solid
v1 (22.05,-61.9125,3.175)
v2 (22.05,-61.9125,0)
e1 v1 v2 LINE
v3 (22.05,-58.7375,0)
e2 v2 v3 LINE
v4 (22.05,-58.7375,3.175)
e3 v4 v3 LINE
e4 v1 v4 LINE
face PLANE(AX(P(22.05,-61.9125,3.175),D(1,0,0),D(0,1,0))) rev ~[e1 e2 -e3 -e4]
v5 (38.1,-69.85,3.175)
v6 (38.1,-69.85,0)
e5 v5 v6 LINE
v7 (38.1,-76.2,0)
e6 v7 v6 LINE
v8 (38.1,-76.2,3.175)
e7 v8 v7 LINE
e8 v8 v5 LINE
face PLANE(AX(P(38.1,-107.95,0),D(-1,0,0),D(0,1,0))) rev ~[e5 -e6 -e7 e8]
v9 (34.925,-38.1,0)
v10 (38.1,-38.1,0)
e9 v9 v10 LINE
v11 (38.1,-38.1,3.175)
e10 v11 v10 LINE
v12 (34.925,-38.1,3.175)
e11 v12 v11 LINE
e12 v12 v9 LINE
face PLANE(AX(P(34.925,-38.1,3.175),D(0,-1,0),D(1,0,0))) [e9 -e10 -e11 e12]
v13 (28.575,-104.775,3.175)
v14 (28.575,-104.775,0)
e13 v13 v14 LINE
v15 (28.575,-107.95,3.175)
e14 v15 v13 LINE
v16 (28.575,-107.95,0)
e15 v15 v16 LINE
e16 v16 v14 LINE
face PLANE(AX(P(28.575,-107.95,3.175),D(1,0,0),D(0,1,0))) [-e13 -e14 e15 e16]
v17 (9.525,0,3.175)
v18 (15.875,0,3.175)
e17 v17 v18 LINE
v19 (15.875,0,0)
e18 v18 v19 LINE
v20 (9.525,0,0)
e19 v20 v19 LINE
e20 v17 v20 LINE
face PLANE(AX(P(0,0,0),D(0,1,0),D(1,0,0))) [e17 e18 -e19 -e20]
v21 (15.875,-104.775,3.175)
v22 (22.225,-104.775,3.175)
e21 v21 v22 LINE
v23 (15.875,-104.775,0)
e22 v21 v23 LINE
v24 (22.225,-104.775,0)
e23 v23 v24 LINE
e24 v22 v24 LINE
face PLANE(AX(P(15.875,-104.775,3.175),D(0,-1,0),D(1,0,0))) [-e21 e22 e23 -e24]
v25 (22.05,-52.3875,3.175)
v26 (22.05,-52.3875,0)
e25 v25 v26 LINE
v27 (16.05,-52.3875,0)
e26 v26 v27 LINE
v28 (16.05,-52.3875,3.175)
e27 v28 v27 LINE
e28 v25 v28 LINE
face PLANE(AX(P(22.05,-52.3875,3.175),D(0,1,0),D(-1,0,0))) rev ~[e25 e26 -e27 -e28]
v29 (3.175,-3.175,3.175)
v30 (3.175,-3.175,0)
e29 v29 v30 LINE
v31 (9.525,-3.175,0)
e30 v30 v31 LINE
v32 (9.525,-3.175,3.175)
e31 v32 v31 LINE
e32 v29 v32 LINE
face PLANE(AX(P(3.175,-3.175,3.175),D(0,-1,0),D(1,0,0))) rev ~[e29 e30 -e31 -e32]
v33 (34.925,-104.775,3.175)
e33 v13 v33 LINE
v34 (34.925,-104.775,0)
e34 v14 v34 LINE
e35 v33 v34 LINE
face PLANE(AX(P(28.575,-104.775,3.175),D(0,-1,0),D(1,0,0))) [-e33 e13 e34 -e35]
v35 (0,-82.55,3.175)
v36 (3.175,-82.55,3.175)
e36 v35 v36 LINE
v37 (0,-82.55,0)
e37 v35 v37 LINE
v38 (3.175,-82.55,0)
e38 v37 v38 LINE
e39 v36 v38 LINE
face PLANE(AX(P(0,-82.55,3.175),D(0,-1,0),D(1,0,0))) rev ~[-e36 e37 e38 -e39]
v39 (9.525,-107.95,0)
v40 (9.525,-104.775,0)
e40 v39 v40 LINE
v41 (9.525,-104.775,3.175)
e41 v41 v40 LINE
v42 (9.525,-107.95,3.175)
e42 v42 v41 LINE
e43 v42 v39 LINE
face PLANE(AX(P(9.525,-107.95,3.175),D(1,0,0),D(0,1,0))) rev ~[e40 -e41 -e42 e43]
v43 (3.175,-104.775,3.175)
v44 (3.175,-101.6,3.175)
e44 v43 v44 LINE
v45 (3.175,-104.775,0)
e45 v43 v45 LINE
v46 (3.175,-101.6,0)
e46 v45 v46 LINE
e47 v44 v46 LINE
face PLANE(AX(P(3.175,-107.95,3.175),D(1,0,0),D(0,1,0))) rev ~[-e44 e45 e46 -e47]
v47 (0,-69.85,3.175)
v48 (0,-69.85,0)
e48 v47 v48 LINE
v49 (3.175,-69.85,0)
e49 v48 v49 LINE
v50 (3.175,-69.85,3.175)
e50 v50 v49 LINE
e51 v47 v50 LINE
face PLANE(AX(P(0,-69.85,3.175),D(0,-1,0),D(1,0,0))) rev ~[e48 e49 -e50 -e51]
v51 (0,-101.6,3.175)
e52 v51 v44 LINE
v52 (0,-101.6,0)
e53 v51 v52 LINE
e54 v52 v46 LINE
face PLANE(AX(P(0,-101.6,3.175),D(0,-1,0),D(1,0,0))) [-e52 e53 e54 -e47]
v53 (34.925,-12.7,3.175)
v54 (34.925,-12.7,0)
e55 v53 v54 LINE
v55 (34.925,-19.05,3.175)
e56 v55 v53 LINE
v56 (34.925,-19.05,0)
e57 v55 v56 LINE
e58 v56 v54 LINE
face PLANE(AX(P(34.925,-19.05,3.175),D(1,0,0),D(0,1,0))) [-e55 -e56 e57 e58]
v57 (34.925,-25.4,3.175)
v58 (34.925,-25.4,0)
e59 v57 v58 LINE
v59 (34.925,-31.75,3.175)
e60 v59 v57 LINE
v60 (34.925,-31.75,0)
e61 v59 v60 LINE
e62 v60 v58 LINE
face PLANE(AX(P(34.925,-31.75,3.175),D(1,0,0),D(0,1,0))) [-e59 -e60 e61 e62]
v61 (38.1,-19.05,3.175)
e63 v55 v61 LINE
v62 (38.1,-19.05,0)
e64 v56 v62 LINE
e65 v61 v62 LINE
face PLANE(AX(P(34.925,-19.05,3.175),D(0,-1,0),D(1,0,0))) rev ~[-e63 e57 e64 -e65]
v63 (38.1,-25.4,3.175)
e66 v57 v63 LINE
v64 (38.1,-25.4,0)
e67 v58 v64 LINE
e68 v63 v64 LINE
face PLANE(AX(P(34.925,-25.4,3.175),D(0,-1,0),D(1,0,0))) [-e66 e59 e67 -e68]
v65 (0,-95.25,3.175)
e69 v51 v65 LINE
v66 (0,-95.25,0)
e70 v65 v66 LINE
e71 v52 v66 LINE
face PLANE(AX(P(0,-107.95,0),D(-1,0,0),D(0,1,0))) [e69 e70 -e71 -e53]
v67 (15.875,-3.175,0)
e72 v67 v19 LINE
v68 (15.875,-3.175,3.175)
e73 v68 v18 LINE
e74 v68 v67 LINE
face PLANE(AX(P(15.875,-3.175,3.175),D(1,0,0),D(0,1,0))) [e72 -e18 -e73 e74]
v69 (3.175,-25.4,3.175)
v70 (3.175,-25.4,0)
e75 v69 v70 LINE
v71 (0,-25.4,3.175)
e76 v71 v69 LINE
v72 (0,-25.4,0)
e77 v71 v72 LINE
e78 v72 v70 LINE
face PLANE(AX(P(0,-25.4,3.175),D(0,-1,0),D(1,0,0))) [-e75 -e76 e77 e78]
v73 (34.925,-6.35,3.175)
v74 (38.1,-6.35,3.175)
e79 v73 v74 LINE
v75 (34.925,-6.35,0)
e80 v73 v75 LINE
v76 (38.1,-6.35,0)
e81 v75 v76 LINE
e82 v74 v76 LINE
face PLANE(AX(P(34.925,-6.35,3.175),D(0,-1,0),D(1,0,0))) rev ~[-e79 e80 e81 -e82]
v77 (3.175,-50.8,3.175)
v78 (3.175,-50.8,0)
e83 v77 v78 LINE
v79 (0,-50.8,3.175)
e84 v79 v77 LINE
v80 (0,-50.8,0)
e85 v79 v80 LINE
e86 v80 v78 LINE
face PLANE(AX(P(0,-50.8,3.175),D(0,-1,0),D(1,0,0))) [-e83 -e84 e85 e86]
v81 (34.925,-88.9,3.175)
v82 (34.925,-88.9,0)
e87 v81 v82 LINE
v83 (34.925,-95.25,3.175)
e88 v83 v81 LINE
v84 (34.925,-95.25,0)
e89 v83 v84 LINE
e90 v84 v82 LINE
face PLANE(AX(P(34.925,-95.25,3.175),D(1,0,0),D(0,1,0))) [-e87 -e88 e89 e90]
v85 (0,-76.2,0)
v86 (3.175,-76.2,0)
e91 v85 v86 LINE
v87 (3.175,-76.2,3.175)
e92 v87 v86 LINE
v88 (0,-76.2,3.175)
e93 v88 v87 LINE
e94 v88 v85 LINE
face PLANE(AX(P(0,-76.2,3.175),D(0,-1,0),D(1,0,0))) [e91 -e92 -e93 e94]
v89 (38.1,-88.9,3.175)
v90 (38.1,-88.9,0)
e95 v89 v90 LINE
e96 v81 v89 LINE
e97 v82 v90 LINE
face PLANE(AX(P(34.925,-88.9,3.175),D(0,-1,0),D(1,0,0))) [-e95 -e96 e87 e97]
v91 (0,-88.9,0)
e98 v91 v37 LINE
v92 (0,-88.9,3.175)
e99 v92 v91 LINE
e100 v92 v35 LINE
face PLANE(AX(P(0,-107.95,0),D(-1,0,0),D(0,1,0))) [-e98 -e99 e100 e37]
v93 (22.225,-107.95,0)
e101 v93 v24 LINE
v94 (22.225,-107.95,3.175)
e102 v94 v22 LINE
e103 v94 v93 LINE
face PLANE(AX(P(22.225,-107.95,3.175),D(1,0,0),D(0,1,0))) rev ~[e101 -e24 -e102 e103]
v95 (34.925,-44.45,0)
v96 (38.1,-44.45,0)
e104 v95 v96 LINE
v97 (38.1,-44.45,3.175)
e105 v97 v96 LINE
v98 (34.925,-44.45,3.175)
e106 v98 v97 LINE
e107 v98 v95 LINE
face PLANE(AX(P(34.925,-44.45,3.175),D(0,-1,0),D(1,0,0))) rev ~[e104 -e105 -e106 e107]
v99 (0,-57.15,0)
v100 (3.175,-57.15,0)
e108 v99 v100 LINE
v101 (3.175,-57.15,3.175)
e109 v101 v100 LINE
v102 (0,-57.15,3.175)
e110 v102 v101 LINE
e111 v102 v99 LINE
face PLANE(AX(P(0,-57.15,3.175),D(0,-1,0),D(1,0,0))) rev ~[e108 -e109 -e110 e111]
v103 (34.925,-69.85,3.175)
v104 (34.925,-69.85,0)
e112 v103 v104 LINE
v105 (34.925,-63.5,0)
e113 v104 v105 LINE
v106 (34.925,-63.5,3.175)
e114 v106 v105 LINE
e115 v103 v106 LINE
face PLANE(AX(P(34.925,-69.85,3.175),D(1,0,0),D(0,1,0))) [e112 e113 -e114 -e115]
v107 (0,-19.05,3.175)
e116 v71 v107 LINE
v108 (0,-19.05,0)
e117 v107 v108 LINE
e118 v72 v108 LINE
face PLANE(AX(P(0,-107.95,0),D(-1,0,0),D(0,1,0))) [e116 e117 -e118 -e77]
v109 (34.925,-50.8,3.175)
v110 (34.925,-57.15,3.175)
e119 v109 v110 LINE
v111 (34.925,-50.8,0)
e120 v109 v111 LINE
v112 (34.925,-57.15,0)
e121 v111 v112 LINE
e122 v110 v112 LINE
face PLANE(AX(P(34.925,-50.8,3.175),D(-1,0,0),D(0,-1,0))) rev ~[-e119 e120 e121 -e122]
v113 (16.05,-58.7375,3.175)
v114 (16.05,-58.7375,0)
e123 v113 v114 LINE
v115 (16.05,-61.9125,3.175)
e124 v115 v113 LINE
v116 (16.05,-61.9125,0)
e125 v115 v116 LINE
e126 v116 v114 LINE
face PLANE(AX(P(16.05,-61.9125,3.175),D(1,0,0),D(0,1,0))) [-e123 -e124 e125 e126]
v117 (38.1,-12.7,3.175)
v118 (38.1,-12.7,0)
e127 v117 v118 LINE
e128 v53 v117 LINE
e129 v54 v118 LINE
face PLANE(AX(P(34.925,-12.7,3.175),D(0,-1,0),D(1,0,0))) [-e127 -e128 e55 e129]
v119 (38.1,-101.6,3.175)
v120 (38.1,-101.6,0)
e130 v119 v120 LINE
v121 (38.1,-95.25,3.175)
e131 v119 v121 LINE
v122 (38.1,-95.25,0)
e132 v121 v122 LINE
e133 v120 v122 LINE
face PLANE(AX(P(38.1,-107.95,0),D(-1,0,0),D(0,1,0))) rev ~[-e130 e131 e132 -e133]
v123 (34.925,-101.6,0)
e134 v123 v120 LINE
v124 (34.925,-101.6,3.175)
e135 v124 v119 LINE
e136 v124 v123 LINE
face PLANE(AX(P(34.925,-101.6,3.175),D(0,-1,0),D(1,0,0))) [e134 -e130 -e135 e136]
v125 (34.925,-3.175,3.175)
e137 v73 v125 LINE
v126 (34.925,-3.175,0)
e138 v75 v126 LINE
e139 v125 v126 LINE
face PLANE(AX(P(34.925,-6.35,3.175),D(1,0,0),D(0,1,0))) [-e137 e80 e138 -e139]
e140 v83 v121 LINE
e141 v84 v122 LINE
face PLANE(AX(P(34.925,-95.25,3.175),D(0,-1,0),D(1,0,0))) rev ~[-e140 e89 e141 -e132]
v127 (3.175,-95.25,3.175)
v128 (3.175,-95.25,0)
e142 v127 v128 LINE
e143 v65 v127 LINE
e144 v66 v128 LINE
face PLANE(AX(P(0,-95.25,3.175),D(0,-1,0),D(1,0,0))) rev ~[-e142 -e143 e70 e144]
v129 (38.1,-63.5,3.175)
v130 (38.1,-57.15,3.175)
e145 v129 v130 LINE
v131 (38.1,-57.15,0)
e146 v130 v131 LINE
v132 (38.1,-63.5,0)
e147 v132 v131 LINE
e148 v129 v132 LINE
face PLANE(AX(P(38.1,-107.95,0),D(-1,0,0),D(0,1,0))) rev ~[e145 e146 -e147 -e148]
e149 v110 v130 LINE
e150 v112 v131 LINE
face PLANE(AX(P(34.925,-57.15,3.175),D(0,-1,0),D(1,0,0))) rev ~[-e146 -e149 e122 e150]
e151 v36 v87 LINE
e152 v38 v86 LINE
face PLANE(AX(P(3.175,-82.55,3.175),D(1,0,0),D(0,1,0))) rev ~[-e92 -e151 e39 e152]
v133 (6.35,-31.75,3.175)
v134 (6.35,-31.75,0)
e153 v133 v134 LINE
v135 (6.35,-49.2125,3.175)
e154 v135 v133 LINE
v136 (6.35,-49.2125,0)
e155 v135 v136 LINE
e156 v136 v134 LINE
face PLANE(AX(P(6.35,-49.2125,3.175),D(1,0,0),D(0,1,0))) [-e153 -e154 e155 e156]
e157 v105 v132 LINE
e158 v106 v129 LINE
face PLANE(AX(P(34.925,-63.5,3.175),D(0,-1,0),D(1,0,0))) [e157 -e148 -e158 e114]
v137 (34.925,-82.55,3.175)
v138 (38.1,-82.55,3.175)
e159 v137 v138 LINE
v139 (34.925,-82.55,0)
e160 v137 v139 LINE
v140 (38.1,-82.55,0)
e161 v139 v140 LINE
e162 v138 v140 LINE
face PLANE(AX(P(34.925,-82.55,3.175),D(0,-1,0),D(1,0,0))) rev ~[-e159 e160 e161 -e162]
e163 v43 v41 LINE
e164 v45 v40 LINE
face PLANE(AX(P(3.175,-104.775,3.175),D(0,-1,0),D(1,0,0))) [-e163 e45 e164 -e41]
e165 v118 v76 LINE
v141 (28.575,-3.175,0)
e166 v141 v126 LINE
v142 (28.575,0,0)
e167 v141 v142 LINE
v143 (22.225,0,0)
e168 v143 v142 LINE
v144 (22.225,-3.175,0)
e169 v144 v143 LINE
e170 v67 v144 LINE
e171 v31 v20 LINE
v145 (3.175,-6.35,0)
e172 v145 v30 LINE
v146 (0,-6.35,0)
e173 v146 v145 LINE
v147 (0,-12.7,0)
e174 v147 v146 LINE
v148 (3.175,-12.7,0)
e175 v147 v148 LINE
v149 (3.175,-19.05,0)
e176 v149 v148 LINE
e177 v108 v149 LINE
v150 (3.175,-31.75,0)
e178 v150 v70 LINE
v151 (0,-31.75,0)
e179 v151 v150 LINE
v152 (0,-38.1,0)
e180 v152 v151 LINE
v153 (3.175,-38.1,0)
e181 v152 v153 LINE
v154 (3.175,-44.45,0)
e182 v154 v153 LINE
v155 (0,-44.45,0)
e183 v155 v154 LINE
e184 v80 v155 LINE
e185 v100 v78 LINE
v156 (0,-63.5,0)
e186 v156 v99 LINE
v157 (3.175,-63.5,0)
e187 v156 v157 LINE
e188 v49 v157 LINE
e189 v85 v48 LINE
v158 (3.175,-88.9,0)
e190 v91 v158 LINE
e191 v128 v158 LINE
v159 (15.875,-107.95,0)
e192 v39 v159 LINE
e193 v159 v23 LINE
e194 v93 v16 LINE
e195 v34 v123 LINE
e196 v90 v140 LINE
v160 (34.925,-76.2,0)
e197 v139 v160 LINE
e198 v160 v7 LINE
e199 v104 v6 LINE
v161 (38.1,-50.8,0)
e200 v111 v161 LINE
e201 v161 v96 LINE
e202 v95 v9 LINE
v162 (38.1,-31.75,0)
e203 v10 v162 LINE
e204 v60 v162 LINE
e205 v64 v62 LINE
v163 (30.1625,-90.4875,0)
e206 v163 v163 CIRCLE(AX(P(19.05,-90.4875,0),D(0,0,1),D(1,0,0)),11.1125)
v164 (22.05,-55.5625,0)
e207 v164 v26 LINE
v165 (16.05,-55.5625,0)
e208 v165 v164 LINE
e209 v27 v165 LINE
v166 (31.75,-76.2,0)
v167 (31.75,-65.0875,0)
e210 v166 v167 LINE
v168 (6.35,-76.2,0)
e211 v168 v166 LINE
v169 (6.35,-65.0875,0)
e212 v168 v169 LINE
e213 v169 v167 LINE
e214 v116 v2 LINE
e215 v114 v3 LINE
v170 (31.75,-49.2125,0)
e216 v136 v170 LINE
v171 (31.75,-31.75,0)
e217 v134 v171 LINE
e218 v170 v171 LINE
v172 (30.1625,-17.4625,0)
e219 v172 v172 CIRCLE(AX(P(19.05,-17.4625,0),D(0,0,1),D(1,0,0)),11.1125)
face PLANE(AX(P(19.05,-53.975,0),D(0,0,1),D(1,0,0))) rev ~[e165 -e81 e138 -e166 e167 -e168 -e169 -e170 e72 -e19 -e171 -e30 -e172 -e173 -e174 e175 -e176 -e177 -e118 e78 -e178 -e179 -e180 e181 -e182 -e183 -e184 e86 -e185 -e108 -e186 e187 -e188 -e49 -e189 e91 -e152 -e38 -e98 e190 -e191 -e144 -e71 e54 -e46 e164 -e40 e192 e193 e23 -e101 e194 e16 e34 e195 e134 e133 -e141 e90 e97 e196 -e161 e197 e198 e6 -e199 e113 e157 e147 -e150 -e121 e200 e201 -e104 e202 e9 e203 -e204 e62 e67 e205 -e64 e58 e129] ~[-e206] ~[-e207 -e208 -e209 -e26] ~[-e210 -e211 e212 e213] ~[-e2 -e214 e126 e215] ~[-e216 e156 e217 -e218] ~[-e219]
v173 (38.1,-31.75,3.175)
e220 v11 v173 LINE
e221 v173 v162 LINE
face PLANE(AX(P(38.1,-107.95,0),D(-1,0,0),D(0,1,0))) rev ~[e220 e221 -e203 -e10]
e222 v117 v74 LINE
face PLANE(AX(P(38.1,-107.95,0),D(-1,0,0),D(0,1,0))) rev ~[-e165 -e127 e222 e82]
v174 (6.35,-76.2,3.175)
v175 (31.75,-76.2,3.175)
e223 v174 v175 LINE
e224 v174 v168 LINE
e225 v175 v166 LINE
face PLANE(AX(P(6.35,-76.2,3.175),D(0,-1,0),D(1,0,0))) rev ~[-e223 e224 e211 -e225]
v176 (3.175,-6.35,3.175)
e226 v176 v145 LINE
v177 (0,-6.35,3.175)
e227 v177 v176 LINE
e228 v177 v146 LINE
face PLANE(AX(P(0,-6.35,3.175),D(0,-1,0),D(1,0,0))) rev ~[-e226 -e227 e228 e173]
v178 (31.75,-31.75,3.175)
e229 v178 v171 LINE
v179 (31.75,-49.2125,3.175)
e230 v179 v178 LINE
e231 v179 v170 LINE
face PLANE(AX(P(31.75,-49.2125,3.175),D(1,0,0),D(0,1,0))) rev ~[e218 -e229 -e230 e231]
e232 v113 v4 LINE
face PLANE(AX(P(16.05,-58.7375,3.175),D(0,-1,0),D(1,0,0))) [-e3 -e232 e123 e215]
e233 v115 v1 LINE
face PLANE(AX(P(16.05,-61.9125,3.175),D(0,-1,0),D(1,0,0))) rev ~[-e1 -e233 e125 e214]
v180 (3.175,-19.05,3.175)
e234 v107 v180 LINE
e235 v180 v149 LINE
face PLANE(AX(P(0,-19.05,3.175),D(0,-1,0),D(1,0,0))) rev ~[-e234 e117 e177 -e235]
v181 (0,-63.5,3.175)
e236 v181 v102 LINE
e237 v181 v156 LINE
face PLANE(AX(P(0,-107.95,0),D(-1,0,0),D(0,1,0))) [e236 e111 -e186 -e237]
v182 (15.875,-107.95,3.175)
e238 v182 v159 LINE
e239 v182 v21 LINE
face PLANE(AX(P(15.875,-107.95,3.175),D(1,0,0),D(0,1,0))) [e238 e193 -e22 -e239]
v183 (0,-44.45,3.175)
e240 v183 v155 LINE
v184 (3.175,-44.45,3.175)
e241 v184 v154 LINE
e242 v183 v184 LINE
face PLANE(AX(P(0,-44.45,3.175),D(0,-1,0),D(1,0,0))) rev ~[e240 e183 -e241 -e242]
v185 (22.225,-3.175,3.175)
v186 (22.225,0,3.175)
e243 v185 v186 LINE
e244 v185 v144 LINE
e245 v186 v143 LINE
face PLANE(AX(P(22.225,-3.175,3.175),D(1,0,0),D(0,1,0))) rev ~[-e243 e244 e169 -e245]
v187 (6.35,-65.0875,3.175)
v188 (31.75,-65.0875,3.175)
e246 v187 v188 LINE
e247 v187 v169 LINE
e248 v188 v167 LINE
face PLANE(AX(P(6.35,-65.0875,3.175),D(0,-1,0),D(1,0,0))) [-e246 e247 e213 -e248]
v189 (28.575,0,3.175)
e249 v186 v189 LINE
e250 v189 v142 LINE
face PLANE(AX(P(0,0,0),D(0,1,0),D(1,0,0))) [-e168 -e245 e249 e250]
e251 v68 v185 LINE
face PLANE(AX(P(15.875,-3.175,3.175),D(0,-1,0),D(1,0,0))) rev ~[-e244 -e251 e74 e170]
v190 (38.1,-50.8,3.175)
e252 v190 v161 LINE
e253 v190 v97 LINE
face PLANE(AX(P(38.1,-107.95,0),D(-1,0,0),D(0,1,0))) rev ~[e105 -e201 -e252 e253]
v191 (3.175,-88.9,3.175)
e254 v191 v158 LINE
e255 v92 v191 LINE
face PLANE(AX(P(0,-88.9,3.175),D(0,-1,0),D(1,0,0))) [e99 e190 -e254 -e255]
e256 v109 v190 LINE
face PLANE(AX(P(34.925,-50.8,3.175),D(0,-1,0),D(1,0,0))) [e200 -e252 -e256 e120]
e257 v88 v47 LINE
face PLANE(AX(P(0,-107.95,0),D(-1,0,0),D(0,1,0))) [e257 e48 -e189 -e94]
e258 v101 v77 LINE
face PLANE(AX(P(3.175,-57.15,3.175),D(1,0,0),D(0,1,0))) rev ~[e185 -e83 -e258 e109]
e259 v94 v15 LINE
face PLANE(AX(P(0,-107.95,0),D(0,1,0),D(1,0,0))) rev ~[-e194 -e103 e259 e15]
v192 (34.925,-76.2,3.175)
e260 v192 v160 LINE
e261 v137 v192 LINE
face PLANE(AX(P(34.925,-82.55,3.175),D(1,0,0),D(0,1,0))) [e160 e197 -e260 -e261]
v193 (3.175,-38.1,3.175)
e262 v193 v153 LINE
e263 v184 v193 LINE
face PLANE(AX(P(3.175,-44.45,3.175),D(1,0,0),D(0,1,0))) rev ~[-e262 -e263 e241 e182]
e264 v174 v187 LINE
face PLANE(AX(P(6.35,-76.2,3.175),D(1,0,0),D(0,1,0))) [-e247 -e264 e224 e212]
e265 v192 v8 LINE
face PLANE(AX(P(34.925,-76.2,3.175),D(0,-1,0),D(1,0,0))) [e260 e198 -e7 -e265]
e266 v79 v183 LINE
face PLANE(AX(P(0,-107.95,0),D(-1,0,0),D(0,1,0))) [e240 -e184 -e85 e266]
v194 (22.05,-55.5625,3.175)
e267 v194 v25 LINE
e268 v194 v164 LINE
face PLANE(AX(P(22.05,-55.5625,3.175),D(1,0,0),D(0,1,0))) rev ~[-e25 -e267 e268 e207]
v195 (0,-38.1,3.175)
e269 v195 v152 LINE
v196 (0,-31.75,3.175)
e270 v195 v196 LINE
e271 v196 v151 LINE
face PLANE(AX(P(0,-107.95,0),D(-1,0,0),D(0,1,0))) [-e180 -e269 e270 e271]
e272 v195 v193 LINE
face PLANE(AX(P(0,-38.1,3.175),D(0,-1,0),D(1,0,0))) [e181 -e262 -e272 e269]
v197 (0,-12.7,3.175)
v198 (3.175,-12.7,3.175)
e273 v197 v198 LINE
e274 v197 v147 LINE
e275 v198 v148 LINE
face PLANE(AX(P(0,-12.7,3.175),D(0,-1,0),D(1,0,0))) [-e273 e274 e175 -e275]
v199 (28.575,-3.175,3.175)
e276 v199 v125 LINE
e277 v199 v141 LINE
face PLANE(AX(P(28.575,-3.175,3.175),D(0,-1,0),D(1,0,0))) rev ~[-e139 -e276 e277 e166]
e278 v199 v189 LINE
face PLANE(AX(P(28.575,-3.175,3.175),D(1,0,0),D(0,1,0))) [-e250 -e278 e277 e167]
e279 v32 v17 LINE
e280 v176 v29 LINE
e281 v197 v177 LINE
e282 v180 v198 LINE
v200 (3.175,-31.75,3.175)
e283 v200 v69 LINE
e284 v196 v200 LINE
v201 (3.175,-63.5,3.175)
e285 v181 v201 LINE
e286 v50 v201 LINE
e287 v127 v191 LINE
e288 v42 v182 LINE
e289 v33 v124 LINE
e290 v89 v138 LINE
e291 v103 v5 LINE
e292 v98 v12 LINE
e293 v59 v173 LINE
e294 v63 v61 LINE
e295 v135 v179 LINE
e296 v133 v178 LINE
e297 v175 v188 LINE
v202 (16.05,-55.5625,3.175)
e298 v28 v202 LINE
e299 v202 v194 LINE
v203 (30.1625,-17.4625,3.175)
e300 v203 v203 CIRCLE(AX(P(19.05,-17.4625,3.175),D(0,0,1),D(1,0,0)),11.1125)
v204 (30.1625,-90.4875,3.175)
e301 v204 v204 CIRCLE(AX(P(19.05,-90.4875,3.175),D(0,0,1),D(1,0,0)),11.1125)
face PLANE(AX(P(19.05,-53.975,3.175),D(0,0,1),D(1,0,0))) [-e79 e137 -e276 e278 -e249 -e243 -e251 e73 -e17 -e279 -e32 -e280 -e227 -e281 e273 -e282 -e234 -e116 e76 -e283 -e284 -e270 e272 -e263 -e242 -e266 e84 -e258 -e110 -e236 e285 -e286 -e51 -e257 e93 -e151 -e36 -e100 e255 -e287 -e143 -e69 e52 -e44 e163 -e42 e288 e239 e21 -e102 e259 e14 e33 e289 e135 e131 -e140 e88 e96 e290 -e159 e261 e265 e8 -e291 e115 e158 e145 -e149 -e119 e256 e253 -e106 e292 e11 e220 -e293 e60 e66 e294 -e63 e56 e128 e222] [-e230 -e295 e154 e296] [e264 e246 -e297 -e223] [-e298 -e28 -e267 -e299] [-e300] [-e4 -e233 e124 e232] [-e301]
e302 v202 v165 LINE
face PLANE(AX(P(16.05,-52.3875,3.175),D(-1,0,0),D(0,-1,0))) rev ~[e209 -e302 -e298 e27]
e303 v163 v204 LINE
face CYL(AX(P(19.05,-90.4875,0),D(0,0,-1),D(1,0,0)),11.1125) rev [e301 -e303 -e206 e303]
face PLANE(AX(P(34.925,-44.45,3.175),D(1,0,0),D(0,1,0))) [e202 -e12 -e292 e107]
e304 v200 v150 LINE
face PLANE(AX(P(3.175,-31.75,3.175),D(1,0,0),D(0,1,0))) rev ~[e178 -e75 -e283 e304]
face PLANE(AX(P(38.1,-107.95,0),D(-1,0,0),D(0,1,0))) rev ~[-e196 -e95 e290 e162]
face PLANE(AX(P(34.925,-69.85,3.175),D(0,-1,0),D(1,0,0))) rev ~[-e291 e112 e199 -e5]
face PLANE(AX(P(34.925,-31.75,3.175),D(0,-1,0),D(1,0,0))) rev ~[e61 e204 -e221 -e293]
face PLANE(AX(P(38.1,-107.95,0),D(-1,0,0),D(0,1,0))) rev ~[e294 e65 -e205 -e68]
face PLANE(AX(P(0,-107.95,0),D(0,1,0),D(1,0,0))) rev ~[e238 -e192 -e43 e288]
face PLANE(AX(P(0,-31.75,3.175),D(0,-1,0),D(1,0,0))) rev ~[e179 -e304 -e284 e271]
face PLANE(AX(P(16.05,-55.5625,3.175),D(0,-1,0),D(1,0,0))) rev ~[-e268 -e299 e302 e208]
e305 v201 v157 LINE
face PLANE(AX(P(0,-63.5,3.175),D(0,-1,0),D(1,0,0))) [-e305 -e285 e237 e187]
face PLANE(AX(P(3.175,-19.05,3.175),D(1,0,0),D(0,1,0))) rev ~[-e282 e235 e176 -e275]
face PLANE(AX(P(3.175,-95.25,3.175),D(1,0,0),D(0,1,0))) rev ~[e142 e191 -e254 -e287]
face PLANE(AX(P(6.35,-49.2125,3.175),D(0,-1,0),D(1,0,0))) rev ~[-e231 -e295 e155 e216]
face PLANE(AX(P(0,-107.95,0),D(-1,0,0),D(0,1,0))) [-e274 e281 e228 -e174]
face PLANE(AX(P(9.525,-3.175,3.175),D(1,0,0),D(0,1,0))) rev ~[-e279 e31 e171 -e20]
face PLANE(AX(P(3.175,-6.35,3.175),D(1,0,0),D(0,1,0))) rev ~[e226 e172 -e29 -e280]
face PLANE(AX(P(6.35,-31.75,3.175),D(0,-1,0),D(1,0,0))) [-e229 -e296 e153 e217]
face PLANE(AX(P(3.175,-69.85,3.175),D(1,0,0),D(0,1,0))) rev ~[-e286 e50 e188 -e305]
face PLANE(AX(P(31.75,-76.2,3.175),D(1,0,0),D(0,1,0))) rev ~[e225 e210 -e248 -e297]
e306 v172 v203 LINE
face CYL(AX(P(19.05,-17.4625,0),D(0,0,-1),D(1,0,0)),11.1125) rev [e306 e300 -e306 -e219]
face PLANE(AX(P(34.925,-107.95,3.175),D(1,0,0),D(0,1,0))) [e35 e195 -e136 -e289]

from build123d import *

# Parameters (mm, degrees)
F0_W     = 38.1
F0_H     = 107.95
F0_R     = 11.1125
F1_DEPTH = 3.175
F2_W     = 3.175
F2_H     = 6.35
F2_H_2   = 3.175
F2_W_2   = 25.4
F2_H_3   = 17.4625
F2_W_3   = 6
F2_H_4   = 11.1125
F3_DEPTH = 3.175
F4_W     = 6.35
F4_H     = 3.175
F5_DEPTH = 3.175


with BuildPart() as f1:
    # F0 (on Top) → F1 (new body)
    with BuildSketch(Plane.XY):
        with Locations((19.05, -53.975)):
            Rectangle(F0_W, F0_H)
        with Locations((19.05, -90.4875)):
            Circle(F0_R, mode=Mode.SUBTRACT)
        with Locations((19.05, -17.4625)):
            Circle(F0_R, mode=Mode.SUBTRACT)
    extrude(amount=F1_DEPTH)

    # F2 (on face) → F3 (cut, through all)
    with BuildSketch(Plane.XY.offset(3.175)):
        with Locations((36.5125, -3.175)):
            Rectangle(F2_W, F2_H)
        with Locations((1.5875, -3.175)):
            Rectangle(F2_W, F2_H)
        with Locations((1.5875, -15.875)):
            Rectangle(F2_W, F2_H)
        with Locations((36.5125, -15.875)):
            Rectangle(F2_W, F2_H)
        with Locations((36.5125, -28.575)):
            Rectangle(F2_W, F2_H)
        with Locations((36.5125, -41.275)):
            Rectangle(F2_W, F2_H)
        Polygon((22.05, -55.5625), (22.05, -53.975), (22.05, -52.3875), (16.05, -52.3875), (16.05, -55.5625), align=None)
        with Locations((36.5125, -52.3875)):
            Rectangle(F2_W, F2_H_2)
        with Locations((36.5125, -55.5625)):
            Rectangle(F2_W, F2_H_2)
        with Locations((36.5125, -66.675)):
            Rectangle(F2_W, F2_H)
        with Locations((36.5125, -79.375)):
            Rectangle(F2_W, F2_H)
        with Locations((36.5125, -92.075)):
            Rectangle(F2_W, F2_H)
        with Locations((36.5125, -104.775)):
            Rectangle(F2_W, F2_H)
        with Locations((36.5125, -117.475)):
            Rectangle(F2_W, F2_H)
        with Locations((36.5125, -130.175)):
            Rectangle(F2_W, F2_H)
        with Locations((1.5875, -28.575)):
            Rectangle(F2_W, F2_H)
        with Locations((1.5875, -41.275)):
            Rectangle(F2_W, F2_H)
        with Locations((1.5875, -53.975)):
            Rectangle(F2_W, F2_H)
        with Locations((1.5875, -66.675)):
            Rectangle(F2_W, F2_H)
        with Locations((1.5875, -79.375)):
            Rectangle(F2_W, F2_H)
        with Locations((1.5875, -92.075)):
            Rectangle(F2_W, F2_H)
        with Locations((1.5875, -104.775)):
            Rectangle(F2_W, F2_H)
        with Locations((1.5875, -117.475)):
            Rectangle(F2_W, F2_H)
        with Locations((1.5875, -130.175)):
            Rectangle(F2_W, F2_H)
        with Locations((19.05, -40.48125)):
            Rectangle(F2_W_2, F2_H_3)
        with Locations((19.05, -60.325)):
            Rectangle(F2_W_3, F2_H_2)
        with Locations((19.05, -70.64375)):
            Rectangle(F2_W_2, F2_H_4)
    extrude(amount=-F3_DEPTH, mode=Mode.SUBTRACT)

    # F4 (on face) → F5 (cut, through all)
    with BuildSketch(Plane.XY.offset(3.175)):
        with Locations((19.05, -1.5875)):
            Rectangle(F4_W, F4_H)
        with Locations((31.75, -1.5875)):
            Rectangle(F4_W, F4_H)
        with Locations((6.35, -1.5875)):
            Rectangle(F4_W, F4_H)
        with Locations((31.75, -106.3625)):
            Rectangle(F4_W, F4_H)
        with Locations((6.35, -106.3625)):
            Rectangle(F4_W, F4_H)
        with Locations((19.05, -106.3625)):
            Rectangle(F4_W, F4_H)
    extrude(amount=-F5_DEPTH, mode=Mode.SUBTRACT)


solid = f1.part
